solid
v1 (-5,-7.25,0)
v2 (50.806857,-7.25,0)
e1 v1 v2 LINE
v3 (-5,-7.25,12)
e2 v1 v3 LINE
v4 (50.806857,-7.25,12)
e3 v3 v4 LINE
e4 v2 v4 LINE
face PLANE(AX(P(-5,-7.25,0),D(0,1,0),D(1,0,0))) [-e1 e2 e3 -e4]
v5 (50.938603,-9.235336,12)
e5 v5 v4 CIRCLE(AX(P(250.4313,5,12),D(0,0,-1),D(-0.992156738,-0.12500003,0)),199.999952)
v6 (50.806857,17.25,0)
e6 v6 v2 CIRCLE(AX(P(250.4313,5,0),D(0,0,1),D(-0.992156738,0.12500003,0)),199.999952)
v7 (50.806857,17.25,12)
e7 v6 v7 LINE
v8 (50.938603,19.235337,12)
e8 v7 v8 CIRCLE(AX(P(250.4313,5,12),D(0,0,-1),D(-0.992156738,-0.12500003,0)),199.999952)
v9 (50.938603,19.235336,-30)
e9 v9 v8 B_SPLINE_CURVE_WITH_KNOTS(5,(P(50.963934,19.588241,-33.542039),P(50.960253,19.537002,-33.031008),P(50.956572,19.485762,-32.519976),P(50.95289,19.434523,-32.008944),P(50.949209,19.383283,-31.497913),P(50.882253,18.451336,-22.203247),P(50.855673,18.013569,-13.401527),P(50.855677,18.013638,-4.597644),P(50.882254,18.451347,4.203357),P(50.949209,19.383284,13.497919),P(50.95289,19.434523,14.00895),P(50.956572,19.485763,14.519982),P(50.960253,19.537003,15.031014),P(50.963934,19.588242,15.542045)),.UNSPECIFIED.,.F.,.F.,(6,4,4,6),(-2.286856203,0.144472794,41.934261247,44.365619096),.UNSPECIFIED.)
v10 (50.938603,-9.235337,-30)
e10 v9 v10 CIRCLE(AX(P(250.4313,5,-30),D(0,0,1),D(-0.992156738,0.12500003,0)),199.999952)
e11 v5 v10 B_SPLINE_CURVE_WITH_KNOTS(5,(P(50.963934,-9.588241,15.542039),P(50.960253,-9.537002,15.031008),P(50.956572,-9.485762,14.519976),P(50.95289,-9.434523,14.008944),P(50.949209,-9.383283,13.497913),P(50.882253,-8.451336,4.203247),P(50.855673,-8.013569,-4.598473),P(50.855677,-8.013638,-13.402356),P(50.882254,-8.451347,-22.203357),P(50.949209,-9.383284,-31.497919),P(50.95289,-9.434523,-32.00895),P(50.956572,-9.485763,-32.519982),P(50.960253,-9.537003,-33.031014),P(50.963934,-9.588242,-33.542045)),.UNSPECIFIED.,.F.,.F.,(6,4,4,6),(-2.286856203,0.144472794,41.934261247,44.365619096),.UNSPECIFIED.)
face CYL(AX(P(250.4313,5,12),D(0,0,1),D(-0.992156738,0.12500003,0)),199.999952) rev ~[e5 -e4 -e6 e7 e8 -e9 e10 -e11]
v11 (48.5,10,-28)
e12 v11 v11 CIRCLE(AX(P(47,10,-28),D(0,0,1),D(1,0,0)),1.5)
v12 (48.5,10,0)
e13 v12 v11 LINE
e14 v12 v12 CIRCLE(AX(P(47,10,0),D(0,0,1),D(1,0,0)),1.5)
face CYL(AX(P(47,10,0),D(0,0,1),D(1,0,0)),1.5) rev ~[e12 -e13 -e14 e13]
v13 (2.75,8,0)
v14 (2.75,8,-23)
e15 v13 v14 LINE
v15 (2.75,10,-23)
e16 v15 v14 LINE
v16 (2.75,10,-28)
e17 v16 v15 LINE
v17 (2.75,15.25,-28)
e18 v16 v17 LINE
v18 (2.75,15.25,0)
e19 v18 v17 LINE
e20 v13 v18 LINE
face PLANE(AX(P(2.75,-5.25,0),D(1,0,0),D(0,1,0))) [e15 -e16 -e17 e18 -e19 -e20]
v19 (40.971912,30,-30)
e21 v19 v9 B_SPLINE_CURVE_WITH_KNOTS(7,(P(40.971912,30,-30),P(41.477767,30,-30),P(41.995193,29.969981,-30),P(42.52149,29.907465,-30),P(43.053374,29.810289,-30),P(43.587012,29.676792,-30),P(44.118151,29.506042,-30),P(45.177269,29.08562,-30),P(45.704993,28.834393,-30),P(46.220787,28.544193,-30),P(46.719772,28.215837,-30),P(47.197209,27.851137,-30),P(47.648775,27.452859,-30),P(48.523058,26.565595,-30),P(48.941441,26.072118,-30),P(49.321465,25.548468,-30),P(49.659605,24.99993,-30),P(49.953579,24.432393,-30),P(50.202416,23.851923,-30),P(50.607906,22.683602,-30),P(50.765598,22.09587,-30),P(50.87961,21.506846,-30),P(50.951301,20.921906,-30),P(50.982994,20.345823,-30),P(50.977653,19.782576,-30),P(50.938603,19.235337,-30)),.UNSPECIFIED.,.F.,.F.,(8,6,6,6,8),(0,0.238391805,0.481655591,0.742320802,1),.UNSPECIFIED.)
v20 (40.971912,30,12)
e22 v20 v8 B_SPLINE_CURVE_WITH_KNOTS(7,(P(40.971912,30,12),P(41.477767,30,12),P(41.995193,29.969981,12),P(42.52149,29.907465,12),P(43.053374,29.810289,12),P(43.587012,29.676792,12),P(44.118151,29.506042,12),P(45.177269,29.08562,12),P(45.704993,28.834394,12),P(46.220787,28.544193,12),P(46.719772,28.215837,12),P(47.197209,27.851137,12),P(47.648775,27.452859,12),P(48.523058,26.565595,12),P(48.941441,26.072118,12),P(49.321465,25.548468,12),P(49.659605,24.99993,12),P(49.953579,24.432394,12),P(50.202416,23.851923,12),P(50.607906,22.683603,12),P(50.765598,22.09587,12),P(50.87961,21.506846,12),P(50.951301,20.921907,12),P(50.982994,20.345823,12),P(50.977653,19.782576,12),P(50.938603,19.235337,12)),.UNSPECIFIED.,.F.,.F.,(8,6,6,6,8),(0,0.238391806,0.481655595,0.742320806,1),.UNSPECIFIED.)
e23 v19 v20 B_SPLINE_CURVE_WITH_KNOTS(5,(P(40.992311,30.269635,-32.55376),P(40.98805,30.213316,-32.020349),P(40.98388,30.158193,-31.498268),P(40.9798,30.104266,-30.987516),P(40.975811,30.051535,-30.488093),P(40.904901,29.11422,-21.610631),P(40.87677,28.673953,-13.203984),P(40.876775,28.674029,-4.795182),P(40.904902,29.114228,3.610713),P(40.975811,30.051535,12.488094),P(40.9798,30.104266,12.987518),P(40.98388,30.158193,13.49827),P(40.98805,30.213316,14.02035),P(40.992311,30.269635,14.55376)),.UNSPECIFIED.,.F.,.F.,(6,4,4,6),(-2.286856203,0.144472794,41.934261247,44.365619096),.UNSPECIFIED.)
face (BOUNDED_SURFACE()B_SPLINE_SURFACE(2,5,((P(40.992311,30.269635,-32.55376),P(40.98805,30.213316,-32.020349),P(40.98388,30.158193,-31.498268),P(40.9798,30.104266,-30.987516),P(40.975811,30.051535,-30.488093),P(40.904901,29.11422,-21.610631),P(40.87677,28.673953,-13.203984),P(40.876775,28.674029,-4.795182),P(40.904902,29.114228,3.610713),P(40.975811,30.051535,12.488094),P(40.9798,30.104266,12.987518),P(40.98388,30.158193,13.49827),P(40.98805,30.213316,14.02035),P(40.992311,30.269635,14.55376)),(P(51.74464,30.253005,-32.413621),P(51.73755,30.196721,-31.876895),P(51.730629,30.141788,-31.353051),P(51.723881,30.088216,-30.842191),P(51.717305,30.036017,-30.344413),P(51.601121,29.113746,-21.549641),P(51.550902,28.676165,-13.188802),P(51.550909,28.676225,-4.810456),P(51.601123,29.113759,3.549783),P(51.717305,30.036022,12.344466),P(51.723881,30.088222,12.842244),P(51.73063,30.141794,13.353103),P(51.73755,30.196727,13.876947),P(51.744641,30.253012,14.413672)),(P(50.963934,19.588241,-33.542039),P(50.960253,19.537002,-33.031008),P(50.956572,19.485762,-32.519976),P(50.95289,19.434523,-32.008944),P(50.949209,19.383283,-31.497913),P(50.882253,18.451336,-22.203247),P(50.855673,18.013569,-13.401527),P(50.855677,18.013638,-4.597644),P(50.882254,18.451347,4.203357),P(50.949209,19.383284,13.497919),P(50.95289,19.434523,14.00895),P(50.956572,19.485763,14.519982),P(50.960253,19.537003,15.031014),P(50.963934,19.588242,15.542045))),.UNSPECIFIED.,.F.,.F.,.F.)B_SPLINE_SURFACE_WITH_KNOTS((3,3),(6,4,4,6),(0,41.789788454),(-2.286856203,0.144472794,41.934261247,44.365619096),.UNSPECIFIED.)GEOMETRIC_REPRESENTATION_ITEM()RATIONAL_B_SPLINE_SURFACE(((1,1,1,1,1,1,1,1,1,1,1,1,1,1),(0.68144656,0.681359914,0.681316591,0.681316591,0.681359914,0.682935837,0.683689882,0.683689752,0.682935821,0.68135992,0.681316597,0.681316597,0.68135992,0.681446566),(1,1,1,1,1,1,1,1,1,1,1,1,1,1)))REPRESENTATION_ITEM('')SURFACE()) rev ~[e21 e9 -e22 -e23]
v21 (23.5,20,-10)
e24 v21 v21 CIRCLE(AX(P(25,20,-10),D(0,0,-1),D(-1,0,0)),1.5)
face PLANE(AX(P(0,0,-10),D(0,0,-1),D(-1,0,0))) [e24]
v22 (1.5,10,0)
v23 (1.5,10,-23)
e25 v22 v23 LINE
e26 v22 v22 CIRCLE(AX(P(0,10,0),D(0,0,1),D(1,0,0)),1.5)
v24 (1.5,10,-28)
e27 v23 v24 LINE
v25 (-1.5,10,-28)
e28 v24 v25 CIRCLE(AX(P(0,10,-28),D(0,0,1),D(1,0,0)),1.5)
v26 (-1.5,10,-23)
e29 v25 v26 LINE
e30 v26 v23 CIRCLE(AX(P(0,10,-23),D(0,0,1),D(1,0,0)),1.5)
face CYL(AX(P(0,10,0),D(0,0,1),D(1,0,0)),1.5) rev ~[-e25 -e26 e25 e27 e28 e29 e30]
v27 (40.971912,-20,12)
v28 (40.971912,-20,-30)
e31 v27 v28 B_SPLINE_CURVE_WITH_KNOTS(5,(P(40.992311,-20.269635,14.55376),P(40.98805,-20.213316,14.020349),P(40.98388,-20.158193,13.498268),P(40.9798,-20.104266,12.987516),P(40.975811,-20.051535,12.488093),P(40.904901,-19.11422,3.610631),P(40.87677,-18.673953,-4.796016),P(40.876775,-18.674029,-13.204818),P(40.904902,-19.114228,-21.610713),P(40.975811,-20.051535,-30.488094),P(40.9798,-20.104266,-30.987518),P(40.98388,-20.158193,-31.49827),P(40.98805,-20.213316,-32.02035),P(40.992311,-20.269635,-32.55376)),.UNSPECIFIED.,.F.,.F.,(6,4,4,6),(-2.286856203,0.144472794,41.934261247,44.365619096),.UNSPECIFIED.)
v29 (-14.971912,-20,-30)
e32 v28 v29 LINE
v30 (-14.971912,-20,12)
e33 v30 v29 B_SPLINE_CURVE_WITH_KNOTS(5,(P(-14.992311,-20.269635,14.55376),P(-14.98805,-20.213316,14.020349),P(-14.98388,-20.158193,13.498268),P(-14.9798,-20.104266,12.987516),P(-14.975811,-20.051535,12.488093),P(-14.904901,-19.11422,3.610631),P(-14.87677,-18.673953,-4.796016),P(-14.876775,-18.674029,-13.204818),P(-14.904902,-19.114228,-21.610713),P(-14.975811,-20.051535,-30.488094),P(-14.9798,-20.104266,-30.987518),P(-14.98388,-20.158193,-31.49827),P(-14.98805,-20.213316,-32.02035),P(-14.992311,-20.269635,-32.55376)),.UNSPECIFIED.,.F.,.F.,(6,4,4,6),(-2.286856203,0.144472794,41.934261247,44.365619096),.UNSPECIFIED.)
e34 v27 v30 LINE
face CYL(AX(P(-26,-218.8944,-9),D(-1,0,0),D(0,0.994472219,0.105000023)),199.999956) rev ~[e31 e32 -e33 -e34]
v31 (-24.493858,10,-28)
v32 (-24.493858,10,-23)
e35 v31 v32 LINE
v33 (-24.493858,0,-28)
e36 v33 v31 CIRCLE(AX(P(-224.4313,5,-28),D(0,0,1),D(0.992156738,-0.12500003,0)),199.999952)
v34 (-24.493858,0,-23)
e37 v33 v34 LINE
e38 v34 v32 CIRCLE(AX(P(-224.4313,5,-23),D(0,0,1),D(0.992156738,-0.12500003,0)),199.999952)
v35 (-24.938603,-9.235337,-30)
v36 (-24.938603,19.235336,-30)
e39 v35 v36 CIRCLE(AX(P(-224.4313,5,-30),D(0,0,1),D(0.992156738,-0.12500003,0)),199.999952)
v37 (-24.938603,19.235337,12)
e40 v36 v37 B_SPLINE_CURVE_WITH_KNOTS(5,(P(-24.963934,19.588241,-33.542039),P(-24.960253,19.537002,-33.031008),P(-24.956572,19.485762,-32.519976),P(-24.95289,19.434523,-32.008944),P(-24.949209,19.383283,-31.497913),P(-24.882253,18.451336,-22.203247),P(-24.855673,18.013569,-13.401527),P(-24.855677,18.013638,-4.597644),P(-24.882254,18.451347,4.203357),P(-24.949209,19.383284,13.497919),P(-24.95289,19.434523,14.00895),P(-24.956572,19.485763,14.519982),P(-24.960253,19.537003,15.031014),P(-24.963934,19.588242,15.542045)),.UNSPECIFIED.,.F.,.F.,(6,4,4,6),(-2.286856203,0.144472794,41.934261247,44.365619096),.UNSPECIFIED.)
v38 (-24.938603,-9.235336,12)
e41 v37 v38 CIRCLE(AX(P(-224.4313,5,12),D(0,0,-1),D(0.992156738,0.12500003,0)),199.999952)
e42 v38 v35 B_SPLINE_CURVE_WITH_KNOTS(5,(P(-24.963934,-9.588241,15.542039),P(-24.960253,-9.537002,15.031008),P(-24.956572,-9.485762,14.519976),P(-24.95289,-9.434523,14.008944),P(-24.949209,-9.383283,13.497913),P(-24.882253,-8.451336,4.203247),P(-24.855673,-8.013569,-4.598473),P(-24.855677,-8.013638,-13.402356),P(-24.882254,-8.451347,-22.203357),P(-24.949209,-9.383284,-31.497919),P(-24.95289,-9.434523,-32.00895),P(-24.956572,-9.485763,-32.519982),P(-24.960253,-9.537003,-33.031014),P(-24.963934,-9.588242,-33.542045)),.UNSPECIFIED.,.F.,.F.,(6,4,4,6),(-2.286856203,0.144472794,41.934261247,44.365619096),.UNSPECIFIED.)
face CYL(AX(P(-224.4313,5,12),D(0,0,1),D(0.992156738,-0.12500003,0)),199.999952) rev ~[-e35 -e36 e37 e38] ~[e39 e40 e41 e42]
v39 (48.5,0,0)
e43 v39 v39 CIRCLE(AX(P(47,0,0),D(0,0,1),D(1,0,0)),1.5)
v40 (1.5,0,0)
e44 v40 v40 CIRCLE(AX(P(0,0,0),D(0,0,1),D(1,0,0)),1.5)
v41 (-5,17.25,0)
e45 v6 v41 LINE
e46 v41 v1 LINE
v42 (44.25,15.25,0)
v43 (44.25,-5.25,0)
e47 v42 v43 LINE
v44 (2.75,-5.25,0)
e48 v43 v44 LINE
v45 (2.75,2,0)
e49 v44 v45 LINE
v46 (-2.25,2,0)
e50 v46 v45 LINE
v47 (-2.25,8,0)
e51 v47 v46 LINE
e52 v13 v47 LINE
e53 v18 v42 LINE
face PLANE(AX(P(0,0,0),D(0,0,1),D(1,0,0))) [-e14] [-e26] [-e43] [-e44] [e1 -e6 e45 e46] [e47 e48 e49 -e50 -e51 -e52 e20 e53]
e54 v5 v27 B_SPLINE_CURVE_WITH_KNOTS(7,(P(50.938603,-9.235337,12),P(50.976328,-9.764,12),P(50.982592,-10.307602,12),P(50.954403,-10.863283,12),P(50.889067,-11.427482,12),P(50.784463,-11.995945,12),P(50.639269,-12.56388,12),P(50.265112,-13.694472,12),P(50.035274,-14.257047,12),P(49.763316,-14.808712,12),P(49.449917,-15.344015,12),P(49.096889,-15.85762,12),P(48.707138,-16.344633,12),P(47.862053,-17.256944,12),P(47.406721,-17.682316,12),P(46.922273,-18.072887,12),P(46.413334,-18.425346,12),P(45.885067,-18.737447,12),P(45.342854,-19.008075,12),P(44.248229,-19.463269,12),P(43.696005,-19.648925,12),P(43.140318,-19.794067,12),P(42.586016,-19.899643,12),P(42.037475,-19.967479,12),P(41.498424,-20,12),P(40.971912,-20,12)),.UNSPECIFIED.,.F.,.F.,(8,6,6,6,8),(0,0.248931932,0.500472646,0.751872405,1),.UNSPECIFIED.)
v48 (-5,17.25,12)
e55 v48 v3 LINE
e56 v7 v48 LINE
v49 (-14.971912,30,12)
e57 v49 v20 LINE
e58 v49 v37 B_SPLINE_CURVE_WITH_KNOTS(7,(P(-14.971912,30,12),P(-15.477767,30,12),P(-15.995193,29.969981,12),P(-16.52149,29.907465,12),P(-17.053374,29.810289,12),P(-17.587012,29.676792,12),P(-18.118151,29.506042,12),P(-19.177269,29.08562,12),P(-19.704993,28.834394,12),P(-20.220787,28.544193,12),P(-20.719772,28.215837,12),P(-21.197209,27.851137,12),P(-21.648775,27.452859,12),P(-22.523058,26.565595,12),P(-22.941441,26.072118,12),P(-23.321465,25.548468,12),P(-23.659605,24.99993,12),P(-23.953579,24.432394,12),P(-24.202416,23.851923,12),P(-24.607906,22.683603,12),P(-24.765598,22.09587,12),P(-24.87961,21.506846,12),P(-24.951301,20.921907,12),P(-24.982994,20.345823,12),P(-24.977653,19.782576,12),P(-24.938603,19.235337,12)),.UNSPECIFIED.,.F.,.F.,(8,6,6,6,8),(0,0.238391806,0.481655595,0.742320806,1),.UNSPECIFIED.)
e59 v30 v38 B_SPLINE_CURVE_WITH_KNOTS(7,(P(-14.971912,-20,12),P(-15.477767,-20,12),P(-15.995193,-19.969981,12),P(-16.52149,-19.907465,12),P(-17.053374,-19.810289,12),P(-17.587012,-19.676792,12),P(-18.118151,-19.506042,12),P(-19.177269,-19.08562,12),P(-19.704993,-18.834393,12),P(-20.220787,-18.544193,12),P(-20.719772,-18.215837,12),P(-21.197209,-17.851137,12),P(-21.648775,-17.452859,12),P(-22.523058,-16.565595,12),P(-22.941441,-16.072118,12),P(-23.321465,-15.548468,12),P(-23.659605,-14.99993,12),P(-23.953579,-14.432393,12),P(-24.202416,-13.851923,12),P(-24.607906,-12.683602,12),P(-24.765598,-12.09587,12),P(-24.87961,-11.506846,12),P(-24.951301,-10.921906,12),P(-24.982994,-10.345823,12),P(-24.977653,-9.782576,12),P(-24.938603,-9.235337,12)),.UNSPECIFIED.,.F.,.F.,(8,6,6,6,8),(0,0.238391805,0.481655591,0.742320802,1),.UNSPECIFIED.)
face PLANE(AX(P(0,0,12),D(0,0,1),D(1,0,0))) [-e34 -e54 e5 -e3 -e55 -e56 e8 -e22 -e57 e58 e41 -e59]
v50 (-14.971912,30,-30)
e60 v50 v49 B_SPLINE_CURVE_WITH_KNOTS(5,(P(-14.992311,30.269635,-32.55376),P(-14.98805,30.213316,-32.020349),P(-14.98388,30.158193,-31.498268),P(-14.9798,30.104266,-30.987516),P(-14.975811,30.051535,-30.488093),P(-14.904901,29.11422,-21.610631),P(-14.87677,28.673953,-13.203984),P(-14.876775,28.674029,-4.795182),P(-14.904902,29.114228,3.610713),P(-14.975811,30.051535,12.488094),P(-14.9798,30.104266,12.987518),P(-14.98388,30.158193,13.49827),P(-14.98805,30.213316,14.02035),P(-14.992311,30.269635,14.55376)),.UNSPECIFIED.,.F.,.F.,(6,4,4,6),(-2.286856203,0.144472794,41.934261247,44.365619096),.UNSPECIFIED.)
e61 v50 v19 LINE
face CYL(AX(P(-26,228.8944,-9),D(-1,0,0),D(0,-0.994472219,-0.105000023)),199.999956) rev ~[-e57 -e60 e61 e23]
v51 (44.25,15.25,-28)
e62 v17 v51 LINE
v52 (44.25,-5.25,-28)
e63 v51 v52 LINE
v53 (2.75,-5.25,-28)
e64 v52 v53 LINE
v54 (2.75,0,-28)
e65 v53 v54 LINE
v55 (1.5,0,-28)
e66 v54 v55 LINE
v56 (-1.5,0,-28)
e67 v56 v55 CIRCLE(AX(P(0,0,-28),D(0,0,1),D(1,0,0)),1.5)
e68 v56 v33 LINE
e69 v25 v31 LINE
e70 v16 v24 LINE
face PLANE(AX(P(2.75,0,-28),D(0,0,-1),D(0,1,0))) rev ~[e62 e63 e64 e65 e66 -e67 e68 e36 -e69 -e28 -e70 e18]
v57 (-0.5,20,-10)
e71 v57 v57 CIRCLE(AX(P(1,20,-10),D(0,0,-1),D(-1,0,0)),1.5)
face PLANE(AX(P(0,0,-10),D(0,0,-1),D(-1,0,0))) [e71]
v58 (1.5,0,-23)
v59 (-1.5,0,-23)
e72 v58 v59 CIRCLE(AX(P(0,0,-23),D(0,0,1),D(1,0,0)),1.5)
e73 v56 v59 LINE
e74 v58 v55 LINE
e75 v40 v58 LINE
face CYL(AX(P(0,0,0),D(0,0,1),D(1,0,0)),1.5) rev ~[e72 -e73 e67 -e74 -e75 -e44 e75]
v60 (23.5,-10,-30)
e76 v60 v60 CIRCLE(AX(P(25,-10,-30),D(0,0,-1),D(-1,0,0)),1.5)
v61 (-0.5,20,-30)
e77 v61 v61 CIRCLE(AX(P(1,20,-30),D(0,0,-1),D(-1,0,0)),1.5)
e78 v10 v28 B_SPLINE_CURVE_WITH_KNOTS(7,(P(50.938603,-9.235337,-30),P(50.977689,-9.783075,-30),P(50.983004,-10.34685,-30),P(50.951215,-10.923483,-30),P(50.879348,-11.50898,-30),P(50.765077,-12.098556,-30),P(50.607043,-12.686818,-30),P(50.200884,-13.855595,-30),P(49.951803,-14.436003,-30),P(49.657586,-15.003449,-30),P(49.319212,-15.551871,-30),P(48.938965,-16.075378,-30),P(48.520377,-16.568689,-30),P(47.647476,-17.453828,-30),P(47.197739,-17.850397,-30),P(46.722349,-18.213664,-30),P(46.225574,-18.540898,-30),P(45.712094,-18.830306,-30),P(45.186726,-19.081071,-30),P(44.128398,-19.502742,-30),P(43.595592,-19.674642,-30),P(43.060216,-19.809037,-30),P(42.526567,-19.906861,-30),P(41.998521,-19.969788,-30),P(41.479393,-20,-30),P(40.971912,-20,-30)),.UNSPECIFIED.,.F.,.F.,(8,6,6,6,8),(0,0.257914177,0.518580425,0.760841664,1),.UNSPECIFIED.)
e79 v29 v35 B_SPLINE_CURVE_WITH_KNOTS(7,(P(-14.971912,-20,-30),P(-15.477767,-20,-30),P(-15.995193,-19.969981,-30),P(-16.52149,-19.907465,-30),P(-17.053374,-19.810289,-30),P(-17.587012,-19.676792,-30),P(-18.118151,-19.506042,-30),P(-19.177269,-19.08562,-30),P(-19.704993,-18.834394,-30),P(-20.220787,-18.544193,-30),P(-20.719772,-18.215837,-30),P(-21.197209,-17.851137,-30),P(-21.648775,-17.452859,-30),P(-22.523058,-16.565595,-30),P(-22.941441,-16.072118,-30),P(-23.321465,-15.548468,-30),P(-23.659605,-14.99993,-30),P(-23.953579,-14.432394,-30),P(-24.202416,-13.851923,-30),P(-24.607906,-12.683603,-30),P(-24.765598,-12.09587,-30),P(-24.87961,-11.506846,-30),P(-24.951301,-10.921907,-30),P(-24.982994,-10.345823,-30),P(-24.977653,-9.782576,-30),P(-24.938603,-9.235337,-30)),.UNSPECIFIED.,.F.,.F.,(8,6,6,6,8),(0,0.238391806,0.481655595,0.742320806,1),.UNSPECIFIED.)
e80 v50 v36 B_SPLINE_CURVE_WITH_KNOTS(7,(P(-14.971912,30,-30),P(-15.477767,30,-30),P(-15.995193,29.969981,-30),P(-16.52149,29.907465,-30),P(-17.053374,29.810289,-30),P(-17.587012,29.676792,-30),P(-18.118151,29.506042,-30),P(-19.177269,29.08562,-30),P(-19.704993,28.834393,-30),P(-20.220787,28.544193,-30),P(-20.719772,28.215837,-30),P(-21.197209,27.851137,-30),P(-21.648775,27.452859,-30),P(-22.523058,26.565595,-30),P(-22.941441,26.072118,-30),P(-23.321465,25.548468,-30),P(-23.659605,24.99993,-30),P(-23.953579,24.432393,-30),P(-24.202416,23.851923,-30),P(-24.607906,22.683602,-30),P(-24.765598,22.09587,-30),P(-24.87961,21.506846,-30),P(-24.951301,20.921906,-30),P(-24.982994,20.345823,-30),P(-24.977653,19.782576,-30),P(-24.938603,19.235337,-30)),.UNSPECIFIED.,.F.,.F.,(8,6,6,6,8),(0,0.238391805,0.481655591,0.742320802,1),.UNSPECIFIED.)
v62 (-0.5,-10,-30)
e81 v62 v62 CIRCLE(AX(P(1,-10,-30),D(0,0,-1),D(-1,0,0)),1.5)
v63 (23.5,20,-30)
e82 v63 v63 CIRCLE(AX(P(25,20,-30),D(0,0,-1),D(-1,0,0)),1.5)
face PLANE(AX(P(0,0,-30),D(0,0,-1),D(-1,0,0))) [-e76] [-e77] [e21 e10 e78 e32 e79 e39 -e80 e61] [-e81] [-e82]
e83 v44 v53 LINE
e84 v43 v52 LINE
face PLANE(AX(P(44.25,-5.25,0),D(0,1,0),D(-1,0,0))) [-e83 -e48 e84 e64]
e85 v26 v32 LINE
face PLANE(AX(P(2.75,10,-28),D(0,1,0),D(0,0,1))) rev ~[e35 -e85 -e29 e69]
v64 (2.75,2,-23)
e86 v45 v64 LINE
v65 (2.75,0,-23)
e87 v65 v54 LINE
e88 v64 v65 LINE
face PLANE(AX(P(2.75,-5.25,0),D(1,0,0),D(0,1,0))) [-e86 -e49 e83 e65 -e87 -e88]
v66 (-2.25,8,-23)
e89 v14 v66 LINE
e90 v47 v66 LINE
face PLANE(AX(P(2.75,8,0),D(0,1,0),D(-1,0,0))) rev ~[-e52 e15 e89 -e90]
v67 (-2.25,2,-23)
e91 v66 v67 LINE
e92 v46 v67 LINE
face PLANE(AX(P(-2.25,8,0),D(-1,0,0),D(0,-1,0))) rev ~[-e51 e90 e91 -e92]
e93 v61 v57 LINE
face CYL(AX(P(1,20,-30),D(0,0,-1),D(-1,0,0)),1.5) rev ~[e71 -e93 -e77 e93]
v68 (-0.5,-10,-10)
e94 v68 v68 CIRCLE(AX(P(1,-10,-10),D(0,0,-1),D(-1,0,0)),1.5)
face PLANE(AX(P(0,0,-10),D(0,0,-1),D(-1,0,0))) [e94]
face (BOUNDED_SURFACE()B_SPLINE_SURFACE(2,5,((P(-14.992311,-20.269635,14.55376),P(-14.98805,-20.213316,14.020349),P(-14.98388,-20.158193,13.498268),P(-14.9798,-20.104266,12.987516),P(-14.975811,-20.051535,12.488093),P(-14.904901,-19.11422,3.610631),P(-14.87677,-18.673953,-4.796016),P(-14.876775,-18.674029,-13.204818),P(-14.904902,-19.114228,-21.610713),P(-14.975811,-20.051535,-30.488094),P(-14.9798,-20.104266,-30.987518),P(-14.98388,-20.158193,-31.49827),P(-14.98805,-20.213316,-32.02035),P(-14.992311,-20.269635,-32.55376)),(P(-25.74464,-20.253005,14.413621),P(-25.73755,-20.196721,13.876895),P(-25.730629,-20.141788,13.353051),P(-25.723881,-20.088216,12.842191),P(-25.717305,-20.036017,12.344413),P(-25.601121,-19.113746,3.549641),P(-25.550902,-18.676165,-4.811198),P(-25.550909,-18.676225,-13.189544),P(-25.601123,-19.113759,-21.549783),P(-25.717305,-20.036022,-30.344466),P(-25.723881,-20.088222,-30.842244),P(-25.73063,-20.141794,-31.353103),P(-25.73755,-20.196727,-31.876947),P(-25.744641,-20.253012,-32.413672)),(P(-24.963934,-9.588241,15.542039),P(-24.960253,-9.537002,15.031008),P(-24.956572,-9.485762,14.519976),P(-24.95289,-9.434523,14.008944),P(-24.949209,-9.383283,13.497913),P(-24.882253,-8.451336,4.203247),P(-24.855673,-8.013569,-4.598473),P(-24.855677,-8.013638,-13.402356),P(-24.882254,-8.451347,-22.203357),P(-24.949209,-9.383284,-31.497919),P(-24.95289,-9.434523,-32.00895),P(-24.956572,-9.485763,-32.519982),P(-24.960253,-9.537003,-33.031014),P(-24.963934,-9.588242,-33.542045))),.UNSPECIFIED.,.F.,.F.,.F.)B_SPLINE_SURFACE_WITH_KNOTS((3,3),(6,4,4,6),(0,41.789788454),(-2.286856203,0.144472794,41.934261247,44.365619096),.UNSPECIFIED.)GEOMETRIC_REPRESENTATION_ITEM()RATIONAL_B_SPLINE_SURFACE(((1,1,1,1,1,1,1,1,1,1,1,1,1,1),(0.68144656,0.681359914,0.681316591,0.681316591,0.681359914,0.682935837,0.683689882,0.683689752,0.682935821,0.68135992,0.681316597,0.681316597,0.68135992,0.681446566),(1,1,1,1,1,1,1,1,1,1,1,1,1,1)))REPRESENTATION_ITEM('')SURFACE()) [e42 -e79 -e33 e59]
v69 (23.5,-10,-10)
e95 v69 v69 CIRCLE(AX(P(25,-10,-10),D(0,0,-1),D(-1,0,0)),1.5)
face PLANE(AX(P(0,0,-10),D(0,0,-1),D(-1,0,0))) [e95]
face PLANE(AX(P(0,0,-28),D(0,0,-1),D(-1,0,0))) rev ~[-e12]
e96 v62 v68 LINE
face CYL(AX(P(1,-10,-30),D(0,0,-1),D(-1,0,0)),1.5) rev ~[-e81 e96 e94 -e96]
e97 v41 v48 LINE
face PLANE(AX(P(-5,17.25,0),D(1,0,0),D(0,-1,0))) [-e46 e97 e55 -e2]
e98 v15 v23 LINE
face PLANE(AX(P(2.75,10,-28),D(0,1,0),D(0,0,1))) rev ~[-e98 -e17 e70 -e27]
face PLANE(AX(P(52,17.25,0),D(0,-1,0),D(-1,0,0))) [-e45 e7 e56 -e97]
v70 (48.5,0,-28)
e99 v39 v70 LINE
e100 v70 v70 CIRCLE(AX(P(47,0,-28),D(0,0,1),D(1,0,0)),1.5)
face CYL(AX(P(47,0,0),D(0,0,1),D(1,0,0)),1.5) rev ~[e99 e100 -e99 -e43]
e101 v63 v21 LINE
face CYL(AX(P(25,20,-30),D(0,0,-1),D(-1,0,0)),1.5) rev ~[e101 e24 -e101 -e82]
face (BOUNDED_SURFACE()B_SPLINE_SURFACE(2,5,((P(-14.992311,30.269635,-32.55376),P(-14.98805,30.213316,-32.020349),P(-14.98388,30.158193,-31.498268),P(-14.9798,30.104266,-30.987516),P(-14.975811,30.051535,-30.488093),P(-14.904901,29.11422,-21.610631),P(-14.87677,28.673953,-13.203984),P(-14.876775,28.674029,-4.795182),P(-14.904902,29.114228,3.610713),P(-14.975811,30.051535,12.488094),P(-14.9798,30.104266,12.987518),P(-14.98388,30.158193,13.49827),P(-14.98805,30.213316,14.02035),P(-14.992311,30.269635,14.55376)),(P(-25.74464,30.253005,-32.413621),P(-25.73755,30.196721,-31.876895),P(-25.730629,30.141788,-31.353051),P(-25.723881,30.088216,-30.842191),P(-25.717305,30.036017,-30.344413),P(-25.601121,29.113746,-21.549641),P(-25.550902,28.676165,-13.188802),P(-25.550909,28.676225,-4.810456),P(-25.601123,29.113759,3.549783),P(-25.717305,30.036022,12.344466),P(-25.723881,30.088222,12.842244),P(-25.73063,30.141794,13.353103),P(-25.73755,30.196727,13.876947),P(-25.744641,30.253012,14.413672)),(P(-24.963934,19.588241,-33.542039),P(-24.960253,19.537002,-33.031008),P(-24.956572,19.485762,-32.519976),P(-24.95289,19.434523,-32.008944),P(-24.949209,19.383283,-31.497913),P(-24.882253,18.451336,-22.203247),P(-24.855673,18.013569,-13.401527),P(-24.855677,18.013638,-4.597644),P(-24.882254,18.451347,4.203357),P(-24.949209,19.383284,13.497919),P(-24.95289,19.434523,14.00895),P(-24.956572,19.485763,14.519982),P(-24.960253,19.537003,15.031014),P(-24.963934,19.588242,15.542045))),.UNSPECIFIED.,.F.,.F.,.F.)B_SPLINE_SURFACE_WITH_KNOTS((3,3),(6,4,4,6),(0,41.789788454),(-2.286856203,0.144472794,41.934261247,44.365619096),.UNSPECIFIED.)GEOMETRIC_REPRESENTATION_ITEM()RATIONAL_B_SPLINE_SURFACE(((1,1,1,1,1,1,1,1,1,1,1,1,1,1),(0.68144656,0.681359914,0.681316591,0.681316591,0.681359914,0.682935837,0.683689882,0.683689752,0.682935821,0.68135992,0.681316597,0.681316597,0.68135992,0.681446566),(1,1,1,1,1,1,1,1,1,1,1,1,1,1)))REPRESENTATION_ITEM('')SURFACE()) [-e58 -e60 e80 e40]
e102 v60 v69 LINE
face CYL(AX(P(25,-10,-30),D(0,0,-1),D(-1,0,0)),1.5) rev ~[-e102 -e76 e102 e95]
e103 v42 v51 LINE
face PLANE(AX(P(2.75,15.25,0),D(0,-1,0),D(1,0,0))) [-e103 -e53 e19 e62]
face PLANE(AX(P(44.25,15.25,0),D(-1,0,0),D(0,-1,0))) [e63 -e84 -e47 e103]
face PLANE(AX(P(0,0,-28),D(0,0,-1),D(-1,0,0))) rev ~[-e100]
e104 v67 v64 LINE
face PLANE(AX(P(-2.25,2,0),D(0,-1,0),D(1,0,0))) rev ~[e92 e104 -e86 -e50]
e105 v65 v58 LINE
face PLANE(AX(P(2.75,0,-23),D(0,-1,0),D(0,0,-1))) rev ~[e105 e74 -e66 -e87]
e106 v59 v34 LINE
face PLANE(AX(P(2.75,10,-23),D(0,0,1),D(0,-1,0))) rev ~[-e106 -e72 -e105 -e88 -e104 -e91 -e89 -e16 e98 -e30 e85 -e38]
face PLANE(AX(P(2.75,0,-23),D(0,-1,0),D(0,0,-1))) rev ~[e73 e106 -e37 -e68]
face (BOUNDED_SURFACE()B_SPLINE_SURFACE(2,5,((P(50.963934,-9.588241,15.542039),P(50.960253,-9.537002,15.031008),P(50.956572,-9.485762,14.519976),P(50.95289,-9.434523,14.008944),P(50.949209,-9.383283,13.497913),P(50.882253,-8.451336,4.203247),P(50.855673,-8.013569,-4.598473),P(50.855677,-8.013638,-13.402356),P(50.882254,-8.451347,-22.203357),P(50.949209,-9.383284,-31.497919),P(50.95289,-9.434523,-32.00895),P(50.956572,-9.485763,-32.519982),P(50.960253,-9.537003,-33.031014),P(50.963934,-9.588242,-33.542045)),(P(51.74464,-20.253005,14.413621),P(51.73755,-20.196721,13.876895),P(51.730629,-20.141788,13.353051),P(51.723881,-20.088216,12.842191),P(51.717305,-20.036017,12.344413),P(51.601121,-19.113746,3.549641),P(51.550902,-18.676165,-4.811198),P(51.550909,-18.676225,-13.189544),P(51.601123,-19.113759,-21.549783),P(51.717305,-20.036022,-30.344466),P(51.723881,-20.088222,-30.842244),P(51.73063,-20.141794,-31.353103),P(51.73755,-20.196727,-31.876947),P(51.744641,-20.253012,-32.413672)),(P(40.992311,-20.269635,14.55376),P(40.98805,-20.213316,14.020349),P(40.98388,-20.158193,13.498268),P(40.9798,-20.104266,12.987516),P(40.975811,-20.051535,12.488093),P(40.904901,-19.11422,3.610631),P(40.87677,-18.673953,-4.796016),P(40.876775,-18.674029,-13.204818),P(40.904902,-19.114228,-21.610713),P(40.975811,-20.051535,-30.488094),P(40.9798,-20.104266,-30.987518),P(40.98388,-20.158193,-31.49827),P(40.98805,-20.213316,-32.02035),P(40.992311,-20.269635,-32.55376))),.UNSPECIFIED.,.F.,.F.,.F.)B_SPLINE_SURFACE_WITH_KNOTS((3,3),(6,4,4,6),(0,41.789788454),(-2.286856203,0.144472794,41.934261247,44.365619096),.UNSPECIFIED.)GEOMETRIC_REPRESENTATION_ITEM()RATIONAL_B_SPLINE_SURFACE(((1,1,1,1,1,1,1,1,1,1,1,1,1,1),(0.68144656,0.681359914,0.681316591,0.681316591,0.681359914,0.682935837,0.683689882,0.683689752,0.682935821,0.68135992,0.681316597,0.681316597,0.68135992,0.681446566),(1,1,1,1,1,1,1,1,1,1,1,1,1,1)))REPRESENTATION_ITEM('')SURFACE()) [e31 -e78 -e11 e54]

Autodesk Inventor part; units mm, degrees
ref_plane "YZ Plane" through (0, 0, 0) normal (1, 0, 0) x (0, 1, 0)
ref_plane "XZ Plane" through (0, 0, 0) normal (0, 1, 0) x (-1, 0, 0)
ref_plane "XY Plane" through (0, 0, 0) normal (0, 0, 1) x (1, 0, 0)
sketch "Sketch1" plane through (0, 0, 0) normal (0, 0, 1) x (1, 0, 0)
  circle A0 centre (0, 0) radius 1.5
  circle A1 centre (47, 0) radius 1.5
  line L0 (1.5, 0) -> (45.5, 0) construction
  circle A2 centre (0, 10) radius 1.5
  circle A3 centre (47, 10) radius 1.5
  line L1 (1.5, 10) -> (45.5, 10) construction
  line L2 (0, 1.5) -> (0, 8.5) construction
  line L3 (47, 1.5) -> (47, 8.5) construction
  line L4 (-5, 30) -> (52, 30)
  line L5 (52, 30) -> (52, -20)
  line L6 (52, -20) -> (-5, -20)
  line L7 (-5, -20) -> (-5, 30)
  line L8 (2.75, 15.25) -> (44.25, 15.25)
  line L9 (44.25, 15.25) -> (44.25, -5.25)
  line L10 (44.25, -5.25) -> (2.75, -5.25)
  line L11 (2.75, -5.25) -> (2.75, 15.25)
  point P0 (23.5, 15.25)
  point P1 (23.5, 30)
  point P2 (44.25, 5)
  point P3 (52, 5)
  point P4 (2.75, 5)
  point P5 (-5, 5)
  point P6 (0, 5)
  dimension "d0" = 3
  dimension "d1" = 3
  dimension "d2" = 44
  dimension "d3" = 3
  dimension "d4" = 3
  dimension "d6" = 7
  dimension "d7" = 5
  dimension "d8" = 5
  dimension "d11" = 20.5
  dimension "d12" = 41.5
  dimension "d22" = 50
extrude "Extrusion1" add sketch "Sketch1" against normal blind 28
sketch "Sketch2" plane through (0, 0, 0) normal (0, 0, 1) x (1, 0, 0)
  line L0 (-5, 30) -> (52, 30) projected
  line L1 (-5, 30) -> (-26, 30)
  line L2 (-26, 30) -> (-26, -20)
  line L3 (-26, -20) -> (-5, -20)
  line L4 (-5, -20) -> (-5, 30)
  line L5 (2.75, -5.25) -> (2.75, 15.25) projected
  point P0 (0, 0)
  dimension "d15" = 28.75
extrude "Extrusion2" add sketch "Sketch2" against normal blind 28
sketch "Sketch3" plane through (0, 0, -28) normal (0, 0, -1) x (-1, 0, 0)
  line L0 (-2.75, 15.25) -> (-2.75, -5.25) construction
  line L1 (-2.75, -5.25) -> (-44.25, -5.25) construction
  line L2 (-44.25, -5.25) -> (-44.25, 15.25) construction
  line L3 (-44.25, 15.25) -> (-2.75, 15.25) construction
  circle A0 centre (-47, 10) radius 1.5 construction
  circle A1 centre (0, 10) radius 1.5 construction
  circle A2 centre (-47, 0) radius 1.5 construction
  circle A3 centre (0, 0) radius 1.5 construction
  line L4 (26, 30) -> (-52, 30) projected
  line L5 (-52, 30) -> (-52, -20) projected
  line L6 (-52, -20) -> (26, -20) projected
  line L7 (26, -20) -> (26, 30) projected
extrude "Extrusion3" add sketch "Sketch3" along normal blind 2
sketch "Sketch5" plane through (0, 0, -30) normal (0, 0, -1) x (-1, 0, 0)
  line L0 (-1, -10) -> (-25, -10) construction
  line L1 (-25, -10) -> (-25, 20) construction
  line L2 (-25, 20) -> (-1, 20) construction
  line L3 (-1, 20) -> (-1, -10) construction
  circle A0 centre (-1, -10) radius 1.5
  circle A1 centre (-25, -10) radius 1.5
  circle A2 centre (-25, 20) radius 1.5
  circle A3 centre (-1, 20) radius 1.5
  line L4 (-52, -20) -> (26, -20) projected
  line L5 (26, -20) -> (26, 30) projected
  point P0 (0, 0)
  point P1 (-13, -10)
  point P2 (-1, 5)
  point P3 (26, 5)
  point P4 (-13, -20)
  dimension "d23" = 24
  dimension "d24" = 30
  dimension "d25" = 3
  dimension "d26" = 3
  dimension "d27" = 3
  dimension "d28" = 3
extrude "Extrusion4" cut sketch "Sketch5" against normal blind 20
sketch "Sketch6" plane through (0, 0, 0) normal (0, 0, 1) x (1, 0, 0)
  line L0 (2.75, -5.25) -> (2.75, 15.25) projected
  line L1 (2.75, 15.25) -> (44.25, 15.25) projected
  line L2 (44.25, 15.25) -> (44.25, -5.25) projected
  line L3 (44.25, -5.25) -> (2.75, -5.25) projected
  circle A0 centre (47, 10) radius 1.5 projected
  circle A1 centre (0, 10) radius 1.5 projected
  circle A2 centre (47, 0) radius 1.5 projected
  circle A3 centre (0, 0) radius 1.5 projected
  line L4 (-26, 30) -> (52, 30) projected
  line L5 (-26, 30) -> (-26, -20) projected
  line L6 (52, -20) -> (-26, -20) projected
  line L7 (52, 30) -> (52, -20) projected
  line L8 (52, 30) -> (52, -20) projected
  line L9 (52, 17.25) -> (-5, 17.25)
  line L10 (-5, 17.25) -> (-5, -7.25)
  line L11 (-5, -7.25) -> (52, -7.25)
  line L12 (52, -7.25) -> (52, 17.25)
  point P0 (44.25, 5)
  point P1 (52, 5)
  dimension "d35" = 7.75
  dimension "d36" = 2
extrude "Extrusion5" add sketch "Sketch6" along normal blind 12 contours L4 L7 L9 L10 L11 L6 L5
sketch "Sketch7" plane through (-26, -20, -30) normal (-1, 0, 0) x (0, 0, 1)
  line L0 (42, 0) -> (42, 12.75) projected
  line L1 (0, 0) -> (0, 50) projected
  arc A0 (42, 0) -> (0, 0) centre (21, -198.8944) ccw
  line L2 (42, 50) -> (0, 50) projected
  line L3 (42, 37.25) -> (42, 50) projected
  arc A1 (0, 50) -> (42, 50) centre (21, 248.8944) ccw
  line L4 (0, 0) -> (42, 0) projected
  point P0 (30, 20)
  dimension "d39" = 200
  dimension "d40" = 200
extrude "Extrusion6" cut sketch "Sketch7" against normal through all
sketch "Sketch8" plane through (0, 0, 12) normal (0, 0, 1) x (1, 0, 0)
  line L0 (-26, 30) -> (52, 30) projected
  line L1 (52, -20) -> (-26, -20) projected
  arc A0 (52, 30) -> (52, -20) centre (250.4313, 5) ccw
  arc A1 (-26, -20) -> (-26, 30) centre (-224.4313, 5) ccw
  line L2 (52, -20) -> (52, 30)
  line L3 (-26, 30) -> (-26, -20)
  line L4 (-26, 28.8944) -> (52, 28.8944) projected
  point P0 (0, 0)
  dimension "d43" = 200
  dimension "d44" = 200
extrude "Extrusion7" cut sketch "Sketch8" against normal through all contours A1 L4 L3 | L2 L4 A0 | A1 L3 L4 | L4 L2 A0
fillet "Fillet3" radius 10 4 edges at (-25.8638, -18.8944, -9) (-25.8638, 28.8944, -9) (51.8638, -18.8944, -9) (51.8638, 28.8944, -9)
sketch "Sketch9" plane through (2.75, -5.25, 0) normal (1, 0, 0) x (0, 0, -1)
  line L0 (0, 0) -> (0, 20.5) construction
  line L1 (0, 0) -> (28, 0) construction
  line L2 (28, 20.5) -> (28, 0) construction
  line L3 (0, 20.5) -> (28, 20.5) construction
  line L4 (28, 15.25) -> (23, 15.25)
  line L5 (23, 15.25) -> (23, 5.25)
  line L6 (23, 5.25) -> (28, 5.25)
  line L7 (28, 5.25) -> (28, 15.25)
  point P0 (0, 5.25)
  point P1 (28, 10.25)
  dimension "d48" = 5
  dimension "d49" = 10
extrude "Extrusion8" cut sketch "Sketch9" against normal through all
sketch "Sketch10" plane through (0, 0, 0) normal (0, 0, 1) x (1, 0, 0)
  line L0 (2.75, 0) -> (2.75, 10) projected
  line L1 (2.75, -5.25) -> (2.75, 15.25) projected
  line L2 (2.75, 8) -> (-2.25, 8)
  line L3 (-2.25, 8) -> (-2.25, 2)
  line L4 (-2.25, 2) -> (2.75, 2)
  line L5 (2.75, 2) -> (2.75, 8)
  point P0 (0, 0)
  point P1 (2.75, 5)
  dimension "d52" = 5
  dimension "d53" = 6
extrude "Extrusion9" cut sketch "Sketch10" against normal blind 28
properties part number "AA048" material "ABS Plastic"
